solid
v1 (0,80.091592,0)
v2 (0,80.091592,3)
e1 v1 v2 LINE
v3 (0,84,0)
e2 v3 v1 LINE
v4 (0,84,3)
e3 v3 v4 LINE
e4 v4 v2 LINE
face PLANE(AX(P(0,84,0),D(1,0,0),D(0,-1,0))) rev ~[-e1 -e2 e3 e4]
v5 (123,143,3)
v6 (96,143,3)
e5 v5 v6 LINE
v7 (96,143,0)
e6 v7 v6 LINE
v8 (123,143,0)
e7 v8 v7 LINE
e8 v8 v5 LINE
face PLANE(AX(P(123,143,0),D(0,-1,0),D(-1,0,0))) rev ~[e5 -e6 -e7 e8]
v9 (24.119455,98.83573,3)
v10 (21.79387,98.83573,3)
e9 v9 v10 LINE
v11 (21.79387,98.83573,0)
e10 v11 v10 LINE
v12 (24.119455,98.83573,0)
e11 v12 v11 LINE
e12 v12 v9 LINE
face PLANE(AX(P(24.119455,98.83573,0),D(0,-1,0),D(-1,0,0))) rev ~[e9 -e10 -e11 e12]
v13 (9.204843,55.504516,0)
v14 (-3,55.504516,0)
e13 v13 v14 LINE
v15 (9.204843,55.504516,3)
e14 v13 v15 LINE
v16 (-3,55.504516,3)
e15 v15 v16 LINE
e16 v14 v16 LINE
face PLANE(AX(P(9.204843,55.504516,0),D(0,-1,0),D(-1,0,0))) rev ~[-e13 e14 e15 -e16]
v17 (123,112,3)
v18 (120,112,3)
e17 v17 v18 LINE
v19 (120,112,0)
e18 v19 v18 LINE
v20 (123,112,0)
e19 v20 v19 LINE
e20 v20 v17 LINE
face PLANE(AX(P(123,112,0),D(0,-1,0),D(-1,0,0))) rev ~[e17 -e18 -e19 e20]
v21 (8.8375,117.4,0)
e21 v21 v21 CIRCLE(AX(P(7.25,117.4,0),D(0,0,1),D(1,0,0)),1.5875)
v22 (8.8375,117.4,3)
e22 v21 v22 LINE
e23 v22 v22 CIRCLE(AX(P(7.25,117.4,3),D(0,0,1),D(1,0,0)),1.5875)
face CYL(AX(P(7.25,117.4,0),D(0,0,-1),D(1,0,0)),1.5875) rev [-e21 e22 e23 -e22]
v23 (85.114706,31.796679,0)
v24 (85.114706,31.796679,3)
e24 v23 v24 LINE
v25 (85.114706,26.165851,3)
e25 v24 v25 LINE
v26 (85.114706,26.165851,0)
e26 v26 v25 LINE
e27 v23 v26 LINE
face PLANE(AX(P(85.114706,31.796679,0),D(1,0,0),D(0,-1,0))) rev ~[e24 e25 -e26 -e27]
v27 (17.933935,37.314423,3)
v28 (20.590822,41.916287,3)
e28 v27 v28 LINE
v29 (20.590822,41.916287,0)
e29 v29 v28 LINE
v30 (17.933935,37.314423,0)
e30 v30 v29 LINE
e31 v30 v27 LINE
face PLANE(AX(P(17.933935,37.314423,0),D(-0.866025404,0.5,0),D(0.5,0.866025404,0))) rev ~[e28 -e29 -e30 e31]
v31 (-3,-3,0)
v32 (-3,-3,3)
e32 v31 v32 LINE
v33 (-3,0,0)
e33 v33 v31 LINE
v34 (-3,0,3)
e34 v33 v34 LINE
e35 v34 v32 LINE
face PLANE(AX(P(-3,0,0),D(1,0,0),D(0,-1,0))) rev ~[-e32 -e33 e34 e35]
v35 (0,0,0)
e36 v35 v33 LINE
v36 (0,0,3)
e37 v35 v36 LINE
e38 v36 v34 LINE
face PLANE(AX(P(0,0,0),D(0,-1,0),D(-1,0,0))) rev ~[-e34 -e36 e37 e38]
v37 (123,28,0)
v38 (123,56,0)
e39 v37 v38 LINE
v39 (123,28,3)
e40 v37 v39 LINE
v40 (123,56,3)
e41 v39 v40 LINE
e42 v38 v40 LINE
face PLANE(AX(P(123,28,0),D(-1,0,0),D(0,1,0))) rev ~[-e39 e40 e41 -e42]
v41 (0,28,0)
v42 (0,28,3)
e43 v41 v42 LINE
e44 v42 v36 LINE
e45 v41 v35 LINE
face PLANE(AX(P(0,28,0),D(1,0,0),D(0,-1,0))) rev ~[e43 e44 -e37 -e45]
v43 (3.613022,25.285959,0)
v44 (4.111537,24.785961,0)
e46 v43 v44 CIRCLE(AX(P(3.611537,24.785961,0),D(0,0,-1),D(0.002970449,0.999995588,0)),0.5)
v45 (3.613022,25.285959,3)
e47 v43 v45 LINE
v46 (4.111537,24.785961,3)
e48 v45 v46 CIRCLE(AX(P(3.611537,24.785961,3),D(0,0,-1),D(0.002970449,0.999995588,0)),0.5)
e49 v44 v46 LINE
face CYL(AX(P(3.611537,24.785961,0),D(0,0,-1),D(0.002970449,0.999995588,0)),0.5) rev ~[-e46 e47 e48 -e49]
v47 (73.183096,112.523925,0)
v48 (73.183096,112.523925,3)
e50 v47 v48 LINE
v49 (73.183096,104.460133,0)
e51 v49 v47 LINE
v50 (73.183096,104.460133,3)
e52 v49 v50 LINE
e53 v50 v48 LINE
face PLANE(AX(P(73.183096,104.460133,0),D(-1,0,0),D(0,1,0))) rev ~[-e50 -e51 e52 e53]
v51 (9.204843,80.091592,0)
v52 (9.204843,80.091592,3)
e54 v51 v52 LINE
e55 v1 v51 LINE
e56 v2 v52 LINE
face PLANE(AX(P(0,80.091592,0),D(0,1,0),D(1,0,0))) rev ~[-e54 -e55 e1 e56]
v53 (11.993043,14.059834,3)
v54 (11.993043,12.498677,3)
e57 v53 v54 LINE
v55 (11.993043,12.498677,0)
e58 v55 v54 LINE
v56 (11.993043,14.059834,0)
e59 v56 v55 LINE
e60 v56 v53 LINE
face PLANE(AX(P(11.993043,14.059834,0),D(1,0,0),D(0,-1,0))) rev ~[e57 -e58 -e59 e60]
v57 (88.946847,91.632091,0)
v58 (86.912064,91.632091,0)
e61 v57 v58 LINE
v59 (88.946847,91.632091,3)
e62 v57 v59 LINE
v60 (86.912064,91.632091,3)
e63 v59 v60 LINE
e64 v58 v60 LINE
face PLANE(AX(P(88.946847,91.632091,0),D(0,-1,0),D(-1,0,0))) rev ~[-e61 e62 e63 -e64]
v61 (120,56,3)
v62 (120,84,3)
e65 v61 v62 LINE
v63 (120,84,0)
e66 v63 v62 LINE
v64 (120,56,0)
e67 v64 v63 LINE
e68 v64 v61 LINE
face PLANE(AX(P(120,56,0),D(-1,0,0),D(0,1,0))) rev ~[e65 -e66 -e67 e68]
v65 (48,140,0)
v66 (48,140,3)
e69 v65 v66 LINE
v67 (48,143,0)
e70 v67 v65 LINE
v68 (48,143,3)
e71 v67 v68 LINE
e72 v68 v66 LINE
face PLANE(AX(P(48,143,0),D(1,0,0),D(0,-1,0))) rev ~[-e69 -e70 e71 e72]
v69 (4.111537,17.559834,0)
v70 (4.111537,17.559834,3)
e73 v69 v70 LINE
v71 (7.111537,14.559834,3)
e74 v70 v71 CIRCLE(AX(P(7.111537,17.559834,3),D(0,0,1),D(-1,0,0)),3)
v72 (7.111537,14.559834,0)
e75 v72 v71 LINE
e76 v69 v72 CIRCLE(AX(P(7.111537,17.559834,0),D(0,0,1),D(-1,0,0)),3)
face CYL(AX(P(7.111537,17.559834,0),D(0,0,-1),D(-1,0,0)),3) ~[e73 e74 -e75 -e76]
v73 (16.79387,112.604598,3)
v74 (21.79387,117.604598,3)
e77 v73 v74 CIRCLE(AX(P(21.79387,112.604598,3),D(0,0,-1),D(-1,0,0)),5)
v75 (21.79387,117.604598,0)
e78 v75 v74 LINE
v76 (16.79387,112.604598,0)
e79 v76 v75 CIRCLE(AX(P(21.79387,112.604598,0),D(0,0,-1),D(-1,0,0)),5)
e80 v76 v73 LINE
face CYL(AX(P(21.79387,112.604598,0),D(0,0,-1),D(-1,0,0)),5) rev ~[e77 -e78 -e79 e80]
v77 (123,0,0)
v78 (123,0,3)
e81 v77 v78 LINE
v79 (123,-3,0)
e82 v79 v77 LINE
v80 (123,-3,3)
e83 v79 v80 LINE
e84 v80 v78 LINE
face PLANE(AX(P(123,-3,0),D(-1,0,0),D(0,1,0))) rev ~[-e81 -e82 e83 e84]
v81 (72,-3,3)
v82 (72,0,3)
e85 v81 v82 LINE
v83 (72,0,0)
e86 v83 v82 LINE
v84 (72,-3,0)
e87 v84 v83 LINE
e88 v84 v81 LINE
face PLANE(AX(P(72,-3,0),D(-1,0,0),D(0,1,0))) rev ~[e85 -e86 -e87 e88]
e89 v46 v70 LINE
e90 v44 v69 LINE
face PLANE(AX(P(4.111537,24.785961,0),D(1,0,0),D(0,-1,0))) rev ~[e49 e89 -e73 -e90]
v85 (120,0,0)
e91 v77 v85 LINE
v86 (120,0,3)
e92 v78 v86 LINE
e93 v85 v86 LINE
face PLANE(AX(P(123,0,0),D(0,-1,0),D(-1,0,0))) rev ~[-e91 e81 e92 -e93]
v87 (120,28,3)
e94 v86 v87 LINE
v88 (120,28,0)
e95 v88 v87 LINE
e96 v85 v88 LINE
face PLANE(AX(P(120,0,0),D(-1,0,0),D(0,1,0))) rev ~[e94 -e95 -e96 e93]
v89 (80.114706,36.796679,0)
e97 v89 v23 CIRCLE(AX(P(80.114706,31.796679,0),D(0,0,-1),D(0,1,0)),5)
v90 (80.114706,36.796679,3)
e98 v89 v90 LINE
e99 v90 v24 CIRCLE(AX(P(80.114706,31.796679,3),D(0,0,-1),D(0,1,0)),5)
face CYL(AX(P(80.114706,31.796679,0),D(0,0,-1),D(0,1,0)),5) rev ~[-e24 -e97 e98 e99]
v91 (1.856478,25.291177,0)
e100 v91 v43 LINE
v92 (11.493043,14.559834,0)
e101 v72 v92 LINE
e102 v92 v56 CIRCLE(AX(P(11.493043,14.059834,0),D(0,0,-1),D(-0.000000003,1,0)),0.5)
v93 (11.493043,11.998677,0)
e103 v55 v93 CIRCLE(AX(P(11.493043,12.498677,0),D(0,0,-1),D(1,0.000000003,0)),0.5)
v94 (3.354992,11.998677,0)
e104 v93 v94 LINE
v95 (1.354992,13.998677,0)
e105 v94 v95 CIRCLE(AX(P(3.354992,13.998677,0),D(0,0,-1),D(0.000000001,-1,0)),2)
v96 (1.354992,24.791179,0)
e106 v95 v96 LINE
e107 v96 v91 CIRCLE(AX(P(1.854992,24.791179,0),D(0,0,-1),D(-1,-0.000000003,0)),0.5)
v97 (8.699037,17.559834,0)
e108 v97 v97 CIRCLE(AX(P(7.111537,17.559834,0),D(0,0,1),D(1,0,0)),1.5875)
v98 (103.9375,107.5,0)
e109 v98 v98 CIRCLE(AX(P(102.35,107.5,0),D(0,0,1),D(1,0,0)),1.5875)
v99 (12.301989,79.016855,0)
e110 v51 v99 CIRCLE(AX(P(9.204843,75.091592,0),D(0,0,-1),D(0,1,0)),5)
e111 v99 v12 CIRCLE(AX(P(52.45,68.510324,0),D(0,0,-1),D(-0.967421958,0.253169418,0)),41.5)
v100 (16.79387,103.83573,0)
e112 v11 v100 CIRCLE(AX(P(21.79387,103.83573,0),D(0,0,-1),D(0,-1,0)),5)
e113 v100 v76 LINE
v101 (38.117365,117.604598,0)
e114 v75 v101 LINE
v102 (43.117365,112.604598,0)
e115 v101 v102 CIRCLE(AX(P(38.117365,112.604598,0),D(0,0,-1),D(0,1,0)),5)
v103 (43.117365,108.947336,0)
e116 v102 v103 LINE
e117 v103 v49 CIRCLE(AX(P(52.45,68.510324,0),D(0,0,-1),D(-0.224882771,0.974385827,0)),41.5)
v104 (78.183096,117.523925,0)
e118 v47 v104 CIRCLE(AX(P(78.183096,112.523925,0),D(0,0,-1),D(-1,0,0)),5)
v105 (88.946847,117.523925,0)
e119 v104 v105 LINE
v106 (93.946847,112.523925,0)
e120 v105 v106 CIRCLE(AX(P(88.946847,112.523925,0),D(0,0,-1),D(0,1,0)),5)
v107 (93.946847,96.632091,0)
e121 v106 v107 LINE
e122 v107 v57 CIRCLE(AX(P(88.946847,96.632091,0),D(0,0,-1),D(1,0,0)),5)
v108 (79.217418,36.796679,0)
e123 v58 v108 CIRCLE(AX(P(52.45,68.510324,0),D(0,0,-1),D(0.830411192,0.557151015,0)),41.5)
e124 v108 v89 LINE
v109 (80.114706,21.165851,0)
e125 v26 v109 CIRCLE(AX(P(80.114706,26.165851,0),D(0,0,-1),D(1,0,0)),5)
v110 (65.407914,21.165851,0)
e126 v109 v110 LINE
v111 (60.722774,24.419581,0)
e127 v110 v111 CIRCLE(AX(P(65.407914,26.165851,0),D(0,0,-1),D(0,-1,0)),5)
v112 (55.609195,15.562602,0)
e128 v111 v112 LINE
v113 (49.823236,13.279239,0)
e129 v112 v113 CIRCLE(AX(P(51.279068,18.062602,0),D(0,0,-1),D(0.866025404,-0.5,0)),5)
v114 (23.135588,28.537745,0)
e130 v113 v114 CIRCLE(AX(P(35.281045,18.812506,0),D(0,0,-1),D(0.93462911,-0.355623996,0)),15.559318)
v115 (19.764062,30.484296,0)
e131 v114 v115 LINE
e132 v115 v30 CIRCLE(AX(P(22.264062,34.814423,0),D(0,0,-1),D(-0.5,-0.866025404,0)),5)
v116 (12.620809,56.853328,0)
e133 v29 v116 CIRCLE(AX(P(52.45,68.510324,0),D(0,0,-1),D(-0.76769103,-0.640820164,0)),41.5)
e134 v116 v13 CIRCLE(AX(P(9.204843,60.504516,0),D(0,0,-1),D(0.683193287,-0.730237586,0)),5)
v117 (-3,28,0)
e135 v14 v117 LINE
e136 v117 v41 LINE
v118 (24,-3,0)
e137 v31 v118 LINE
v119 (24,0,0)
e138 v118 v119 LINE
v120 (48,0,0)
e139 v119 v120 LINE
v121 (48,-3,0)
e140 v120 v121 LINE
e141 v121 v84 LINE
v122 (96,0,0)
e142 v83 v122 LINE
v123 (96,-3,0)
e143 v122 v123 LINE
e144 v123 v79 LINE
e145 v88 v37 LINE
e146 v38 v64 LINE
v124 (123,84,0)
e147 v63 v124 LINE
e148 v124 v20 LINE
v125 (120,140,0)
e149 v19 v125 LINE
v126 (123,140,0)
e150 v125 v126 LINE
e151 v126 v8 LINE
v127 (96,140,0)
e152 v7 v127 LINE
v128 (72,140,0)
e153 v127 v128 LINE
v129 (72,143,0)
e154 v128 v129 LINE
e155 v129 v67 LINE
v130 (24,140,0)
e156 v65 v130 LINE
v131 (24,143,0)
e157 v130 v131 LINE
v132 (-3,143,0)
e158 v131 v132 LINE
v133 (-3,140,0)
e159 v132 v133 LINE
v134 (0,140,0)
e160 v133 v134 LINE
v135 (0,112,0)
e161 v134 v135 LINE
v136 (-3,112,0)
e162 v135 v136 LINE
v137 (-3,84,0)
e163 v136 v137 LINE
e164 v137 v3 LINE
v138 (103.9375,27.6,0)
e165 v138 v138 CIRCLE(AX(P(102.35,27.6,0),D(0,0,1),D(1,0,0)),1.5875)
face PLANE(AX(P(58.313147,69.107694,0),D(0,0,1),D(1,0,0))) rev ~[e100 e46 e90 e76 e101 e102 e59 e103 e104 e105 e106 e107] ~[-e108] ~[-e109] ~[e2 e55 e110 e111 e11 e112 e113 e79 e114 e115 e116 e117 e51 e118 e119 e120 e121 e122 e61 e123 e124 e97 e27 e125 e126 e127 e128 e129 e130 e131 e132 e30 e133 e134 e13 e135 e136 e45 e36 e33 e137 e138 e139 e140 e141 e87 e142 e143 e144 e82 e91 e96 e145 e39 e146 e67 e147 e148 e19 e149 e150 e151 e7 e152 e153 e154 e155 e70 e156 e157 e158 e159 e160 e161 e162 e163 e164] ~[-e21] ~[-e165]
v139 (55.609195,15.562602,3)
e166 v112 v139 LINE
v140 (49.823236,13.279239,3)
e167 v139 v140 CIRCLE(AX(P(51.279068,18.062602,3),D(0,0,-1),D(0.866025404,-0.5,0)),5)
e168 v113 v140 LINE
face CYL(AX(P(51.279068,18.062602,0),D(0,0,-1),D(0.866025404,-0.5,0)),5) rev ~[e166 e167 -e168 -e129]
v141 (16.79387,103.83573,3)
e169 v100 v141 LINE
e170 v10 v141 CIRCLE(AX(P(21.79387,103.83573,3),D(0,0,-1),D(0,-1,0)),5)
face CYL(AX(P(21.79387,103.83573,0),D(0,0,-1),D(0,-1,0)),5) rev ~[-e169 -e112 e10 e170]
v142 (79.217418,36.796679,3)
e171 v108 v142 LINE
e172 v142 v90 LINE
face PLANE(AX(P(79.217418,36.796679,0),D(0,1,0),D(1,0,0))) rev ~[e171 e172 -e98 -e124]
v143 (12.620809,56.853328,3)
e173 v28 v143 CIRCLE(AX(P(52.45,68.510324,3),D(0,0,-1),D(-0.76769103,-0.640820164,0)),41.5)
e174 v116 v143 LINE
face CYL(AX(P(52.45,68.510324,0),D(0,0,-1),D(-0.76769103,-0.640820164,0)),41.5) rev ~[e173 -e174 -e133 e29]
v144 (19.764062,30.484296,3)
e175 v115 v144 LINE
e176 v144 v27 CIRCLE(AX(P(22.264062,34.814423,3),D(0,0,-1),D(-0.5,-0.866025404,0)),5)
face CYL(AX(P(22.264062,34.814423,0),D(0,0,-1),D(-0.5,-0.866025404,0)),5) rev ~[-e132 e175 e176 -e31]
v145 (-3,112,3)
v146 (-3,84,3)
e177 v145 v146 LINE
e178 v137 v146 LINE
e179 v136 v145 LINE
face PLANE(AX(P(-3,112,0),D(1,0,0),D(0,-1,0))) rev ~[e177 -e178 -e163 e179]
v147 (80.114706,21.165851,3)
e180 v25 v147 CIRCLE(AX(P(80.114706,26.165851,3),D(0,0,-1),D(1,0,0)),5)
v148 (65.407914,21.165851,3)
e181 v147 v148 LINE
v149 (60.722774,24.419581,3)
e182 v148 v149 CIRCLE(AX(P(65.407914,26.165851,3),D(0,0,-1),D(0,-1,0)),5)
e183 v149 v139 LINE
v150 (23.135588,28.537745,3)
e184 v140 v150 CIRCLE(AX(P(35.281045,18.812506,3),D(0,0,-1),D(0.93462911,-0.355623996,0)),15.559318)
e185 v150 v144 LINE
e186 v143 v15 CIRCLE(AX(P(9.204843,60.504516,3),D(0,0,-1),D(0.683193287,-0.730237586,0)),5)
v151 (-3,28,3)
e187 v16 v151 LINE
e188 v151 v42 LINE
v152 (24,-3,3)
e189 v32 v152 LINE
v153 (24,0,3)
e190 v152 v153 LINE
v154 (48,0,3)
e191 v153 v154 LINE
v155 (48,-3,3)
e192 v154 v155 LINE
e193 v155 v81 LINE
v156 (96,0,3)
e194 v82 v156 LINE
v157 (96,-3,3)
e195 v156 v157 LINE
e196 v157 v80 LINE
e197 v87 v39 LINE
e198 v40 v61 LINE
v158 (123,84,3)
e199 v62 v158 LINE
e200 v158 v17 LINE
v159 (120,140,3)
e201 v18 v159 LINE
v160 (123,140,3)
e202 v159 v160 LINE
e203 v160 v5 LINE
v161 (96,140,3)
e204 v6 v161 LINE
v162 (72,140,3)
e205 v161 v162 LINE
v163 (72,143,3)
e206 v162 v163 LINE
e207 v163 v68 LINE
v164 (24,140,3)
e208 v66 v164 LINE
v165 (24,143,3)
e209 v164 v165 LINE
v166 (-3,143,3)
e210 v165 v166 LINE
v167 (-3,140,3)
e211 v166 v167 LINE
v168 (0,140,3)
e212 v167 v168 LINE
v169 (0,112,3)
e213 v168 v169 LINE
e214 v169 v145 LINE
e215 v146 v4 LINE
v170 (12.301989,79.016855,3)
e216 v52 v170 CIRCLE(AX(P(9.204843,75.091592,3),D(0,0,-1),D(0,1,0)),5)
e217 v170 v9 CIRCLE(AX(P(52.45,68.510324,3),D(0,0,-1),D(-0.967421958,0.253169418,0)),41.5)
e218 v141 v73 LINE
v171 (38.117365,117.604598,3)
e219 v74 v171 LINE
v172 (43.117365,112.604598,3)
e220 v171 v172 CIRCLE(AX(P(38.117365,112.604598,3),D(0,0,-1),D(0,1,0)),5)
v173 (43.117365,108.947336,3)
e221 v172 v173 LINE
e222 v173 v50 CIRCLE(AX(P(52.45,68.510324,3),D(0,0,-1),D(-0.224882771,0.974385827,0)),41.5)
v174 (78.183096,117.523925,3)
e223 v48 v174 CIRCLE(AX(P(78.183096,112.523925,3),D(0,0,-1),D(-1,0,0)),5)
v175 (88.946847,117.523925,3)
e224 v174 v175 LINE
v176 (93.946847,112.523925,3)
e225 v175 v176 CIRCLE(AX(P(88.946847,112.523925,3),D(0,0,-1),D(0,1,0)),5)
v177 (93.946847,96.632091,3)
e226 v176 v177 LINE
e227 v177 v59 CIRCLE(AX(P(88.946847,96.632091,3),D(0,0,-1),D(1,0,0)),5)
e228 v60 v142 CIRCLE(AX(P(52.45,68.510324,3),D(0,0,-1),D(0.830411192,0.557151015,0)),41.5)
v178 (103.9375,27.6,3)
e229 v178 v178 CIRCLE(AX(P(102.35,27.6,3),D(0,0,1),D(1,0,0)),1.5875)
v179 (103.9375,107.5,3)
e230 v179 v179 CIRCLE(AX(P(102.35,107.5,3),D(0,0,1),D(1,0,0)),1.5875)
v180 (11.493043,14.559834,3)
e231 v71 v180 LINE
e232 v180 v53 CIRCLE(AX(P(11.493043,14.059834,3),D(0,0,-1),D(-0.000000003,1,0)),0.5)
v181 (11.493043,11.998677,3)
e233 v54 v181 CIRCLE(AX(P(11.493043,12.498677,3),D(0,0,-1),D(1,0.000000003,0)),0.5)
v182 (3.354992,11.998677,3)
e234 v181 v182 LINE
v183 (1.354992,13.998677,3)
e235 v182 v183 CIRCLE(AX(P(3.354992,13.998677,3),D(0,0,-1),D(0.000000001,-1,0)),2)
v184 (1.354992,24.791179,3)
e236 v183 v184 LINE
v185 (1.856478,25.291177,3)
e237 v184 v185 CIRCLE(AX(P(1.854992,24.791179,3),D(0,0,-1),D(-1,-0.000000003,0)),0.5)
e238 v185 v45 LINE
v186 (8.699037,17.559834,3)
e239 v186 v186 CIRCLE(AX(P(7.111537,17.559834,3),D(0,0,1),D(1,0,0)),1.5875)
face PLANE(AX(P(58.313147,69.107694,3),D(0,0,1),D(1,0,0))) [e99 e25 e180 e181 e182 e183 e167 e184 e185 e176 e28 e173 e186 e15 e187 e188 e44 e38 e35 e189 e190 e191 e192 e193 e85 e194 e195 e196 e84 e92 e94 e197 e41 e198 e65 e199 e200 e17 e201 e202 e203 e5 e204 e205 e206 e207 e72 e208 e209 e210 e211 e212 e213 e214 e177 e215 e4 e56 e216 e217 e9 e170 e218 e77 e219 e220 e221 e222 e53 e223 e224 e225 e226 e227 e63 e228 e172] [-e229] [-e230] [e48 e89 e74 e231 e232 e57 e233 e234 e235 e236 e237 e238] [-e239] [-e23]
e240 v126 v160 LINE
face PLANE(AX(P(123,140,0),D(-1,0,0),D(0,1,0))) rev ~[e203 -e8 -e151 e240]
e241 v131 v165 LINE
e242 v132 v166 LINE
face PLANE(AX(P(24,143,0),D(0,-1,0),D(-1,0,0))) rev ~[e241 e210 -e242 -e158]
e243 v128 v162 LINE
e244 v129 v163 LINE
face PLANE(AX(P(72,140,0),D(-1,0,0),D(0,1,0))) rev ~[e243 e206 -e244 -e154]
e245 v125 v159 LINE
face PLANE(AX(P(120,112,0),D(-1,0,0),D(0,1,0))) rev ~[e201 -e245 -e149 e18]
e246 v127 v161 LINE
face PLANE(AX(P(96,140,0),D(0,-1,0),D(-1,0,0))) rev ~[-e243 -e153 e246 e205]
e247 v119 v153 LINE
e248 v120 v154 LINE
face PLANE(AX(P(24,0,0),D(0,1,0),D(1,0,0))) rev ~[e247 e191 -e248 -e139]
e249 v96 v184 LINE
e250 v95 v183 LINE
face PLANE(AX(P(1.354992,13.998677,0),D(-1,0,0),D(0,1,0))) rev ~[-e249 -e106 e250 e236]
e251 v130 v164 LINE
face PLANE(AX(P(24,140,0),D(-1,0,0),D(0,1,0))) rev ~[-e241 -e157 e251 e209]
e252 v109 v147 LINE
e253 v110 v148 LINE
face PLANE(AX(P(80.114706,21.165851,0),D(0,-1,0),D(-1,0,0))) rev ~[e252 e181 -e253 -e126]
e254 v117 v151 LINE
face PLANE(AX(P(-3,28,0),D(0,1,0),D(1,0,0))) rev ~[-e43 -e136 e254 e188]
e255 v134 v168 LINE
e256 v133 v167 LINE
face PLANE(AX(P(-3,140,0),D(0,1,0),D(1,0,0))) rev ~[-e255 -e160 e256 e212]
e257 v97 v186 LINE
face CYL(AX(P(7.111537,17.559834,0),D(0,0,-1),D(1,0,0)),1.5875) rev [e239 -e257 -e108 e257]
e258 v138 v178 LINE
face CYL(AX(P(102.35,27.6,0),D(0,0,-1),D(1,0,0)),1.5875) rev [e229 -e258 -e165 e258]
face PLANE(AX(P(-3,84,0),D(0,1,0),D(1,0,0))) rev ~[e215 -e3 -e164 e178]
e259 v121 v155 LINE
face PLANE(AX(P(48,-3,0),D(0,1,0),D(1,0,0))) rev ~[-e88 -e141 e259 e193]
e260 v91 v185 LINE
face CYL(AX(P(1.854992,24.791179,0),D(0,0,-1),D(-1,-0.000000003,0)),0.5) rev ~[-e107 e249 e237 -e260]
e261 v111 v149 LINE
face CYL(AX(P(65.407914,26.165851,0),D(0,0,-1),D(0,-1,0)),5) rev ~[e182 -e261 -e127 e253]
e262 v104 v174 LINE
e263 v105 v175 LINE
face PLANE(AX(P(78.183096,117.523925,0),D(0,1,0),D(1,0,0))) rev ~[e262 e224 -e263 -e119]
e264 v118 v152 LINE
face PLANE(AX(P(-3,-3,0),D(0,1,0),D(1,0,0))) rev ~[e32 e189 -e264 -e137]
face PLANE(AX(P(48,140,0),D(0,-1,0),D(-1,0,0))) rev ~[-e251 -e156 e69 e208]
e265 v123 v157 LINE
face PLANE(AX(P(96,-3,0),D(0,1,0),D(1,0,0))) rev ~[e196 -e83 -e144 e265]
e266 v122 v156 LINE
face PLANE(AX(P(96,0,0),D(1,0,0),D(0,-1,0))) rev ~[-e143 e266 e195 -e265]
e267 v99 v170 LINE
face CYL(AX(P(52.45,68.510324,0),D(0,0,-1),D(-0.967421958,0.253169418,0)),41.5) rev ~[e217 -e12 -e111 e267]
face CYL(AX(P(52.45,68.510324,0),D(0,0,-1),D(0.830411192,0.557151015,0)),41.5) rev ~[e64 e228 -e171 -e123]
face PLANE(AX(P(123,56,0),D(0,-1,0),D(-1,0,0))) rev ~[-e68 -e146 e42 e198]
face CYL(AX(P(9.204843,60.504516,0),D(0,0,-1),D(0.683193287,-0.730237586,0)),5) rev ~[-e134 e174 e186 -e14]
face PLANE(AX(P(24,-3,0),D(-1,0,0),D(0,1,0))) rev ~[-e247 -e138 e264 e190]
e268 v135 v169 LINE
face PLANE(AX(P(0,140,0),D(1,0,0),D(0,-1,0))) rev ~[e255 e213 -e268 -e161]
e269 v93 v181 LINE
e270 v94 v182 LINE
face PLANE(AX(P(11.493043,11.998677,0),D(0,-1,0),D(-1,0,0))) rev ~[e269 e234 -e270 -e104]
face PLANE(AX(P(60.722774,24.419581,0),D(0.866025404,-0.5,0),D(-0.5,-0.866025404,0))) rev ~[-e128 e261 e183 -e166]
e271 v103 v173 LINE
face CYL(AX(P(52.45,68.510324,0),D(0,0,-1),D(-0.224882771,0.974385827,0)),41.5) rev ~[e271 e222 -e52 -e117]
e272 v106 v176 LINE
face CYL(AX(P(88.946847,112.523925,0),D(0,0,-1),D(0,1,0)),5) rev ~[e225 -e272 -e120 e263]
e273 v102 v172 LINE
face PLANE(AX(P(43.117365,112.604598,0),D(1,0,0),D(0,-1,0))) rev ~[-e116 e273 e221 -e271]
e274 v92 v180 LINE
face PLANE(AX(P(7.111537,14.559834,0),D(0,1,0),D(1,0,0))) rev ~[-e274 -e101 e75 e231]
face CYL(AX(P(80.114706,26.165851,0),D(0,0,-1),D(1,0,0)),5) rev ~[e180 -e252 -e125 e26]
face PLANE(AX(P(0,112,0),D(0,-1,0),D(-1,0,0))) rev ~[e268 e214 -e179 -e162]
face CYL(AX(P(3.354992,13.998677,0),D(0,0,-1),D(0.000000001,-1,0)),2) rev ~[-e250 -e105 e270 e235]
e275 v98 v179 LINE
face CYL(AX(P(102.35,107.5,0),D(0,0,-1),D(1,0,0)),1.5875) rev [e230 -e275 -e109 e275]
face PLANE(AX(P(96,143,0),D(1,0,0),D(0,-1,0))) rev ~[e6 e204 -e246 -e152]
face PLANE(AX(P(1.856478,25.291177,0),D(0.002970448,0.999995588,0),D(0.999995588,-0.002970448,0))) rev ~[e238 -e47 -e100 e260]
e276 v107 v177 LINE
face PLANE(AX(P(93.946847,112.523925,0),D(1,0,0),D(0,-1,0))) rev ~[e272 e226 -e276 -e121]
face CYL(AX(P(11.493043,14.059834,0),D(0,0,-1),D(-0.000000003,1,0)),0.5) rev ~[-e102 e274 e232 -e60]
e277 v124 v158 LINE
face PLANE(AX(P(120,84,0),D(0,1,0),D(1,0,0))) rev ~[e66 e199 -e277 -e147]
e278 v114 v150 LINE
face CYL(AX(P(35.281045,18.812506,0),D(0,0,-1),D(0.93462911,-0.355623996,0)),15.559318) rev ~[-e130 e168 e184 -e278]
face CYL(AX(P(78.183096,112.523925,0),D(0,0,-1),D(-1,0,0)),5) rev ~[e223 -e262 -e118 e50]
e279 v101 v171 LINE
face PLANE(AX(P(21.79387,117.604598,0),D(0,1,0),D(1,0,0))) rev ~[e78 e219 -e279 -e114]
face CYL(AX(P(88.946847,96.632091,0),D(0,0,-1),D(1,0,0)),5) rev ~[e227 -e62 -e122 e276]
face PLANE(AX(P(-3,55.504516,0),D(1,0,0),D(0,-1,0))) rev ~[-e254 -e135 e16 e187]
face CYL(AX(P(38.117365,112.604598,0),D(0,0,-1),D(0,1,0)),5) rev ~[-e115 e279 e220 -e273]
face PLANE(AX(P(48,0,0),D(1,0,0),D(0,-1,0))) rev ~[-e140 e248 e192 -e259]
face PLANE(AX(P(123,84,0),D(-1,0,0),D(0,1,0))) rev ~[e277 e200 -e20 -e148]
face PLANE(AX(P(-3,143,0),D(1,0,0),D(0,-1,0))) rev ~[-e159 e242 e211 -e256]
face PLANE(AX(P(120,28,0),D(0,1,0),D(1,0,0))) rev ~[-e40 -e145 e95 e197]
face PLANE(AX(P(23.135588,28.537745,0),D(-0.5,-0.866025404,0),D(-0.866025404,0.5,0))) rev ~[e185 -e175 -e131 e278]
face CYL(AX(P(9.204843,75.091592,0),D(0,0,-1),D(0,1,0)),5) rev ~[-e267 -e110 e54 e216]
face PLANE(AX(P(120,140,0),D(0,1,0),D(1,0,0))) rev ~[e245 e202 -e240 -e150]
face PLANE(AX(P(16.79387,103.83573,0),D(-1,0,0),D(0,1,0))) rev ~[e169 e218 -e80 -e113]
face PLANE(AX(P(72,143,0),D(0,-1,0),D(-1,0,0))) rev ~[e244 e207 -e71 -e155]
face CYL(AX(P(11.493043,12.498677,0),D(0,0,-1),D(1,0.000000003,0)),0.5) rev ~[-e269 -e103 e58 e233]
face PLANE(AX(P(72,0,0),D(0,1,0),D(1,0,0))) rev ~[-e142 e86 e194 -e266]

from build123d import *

# Parameters (mm, degrees)
SKETCH1_R           = 1.5875
BOSS_EXTRUDE1_DEPTH = 3


with BuildPart() as part:
    # Sketch1 → Boss-Extrude1 (new body)
    with BuildSketch(Plane.XY):
        with BuildLine():
            Line((48, 140), (24, 140))
            Line((24, 140), (24, 143))
            Line((24, 143), (-3, 143))
            Line((-3, 143), (-3, 140))
            Line((-3, 140), (0, 140))
            Line((0, 140), (0, 112))
            Line((0, 112), (-3, 112))
            Line((-3, 112), (-3, 84))
            Line((-3, 84), (0, 84))
            Line((0, 84), (0, 80.091592476))
            Line((0, 80.091592476), (9.204842615, 80.091592476))
            ThreePointArc((9.204842615, 80.091592476), (10.844002051, 79.815272857), (12.301988723, 79.016855013))
            ThreePointArc((12.301988723, 79.016855013), (16.805573917, 89.764144743), (24.1194552, 98.835729872))
            Line((24.1194552, 98.835729872), (21.793869689, 98.835729872))
            ThreePointArc((21.793869689, 98.835729872), (18.258335784, 100.300195966), (16.793869689, 103.835729872))
            Line((16.793869689, 103.835729872), (16.793869689, 112.604597993))
            ThreePointArc((16.793869689, 112.604597993), (18.258335784, 116.140131899), (21.793869689, 117.604597993))
            Line((21.793869689, 117.604597993), (38.117364989, 117.604597993))
            ThreePointArc((38.117364989, 117.604597993), (41.652898895, 116.140131899), (43.117364989, 112.604597993))
            Line((43.117364989, 112.604597993), (43.117364989, 108.94733597))
            ThreePointArc((43.117364989, 108.94733597), (58.575877607, 109.555709088), (73.183096051, 104.460132622))
            Line((73.183096051, 104.460132622), (73.183096051, 112.523924668))
            ThreePointArc((73.183096051, 112.523924668), (74.647562145, 116.059458574), (78.183096051, 117.523924668))
            Line((78.183096051, 117.523924668), (88.946846839, 117.523924668))
            ThreePointArc((88.946846839, 117.523924668), (92.482380745, 116.059458574), (93.946846839, 112.523924668))
            Line((93.946846839, 112.523924668), (93.946846839, 96.632091269))
            ThreePointArc((93.946846839, 96.632091269), (92.482380745, 93.096557363), (88.946846839, 91.632091269))
            Line((88.946846839, 91.632091269), (86.912064447, 91.632091269))
            ThreePointArc((86.912064447, 91.632091269), (93.547360155, 62.743436939), (79.217418381, 36.796678628))
            Line((79.217418381, 36.796678628), (80.114705661, 36.796678628))
            ThreePointArc((80.114705661, 36.796678628), (83.650239567, 35.332212534), (85.114705661, 31.796678628))
            Line((85.114705661, 31.796678628), (85.114705661, 26.165851447))
            ThreePointArc((85.114705661, 26.165851447), (83.650239567, 22.630317541), (80.114705661, 21.165851447))
            Line((80.114705661, 21.165851447), (65.40791431, 21.165851447))
            ThreePointArc((65.40791431, 21.165851447), (62.555840914, 22.059067139), (60.722774204, 24.419580508))
            Line((60.722774204, 24.419580508), (55.609195041, 15.562601589))
            ThreePointArc((55.609195041, 15.562601589), (53.114505039, 13.411669321), (49.823236264, 13.279239393))
            ThreePointArc((49.823236264, 13.279239393), (27.558248735, 5.305071401), (23.135588282, 28.537744501))
            Line((23.135588282, 28.537744501), (19.764061802, 30.484296222))
            ThreePointArc((19.764061802, 30.484296222), (17.434432671, 33.520328015), (17.933934783, 37.314423241))
            Line((17.933934783, 37.314423241), (20.590822265, 41.91628735))
            ThreePointArc((20.590822265, 41.91628735), (15.836008812, 48.974059185), (12.620809049, 56.853328488))
            ThreePointArc((12.620809049, 56.853328488), (11.041151458, 55.853928303), (9.204842615, 55.50451642))
            Line((9.204842615, 55.50451642), (-3, 55.50451642))
            Line((-3, 55.50451642), (-3, 28))
            Line((-3, 28), (0, 28))
            Line((0, 28), (0, 0))
            Line((0, 0), (-3, 0))
            Line((-3, 0), (-3, -3))
            Line((-3, -3), (24, -3))
            Line((24, -3), (24, 0))
            Line((24, 0), (48, 0))
            Line((48, 0), (48, -3))
            Line((48, -3), (72, -3))
            Line((72, -3), (72, 0))
            Line((72, 0), (96, 0))
            Line((96, 0), (96, -3))
            Line((96, -3), (123, -3))
            Line((123, -3), (123, 0))
            Line((123, 0), (120, 0))
            Line((120, 0), (120, 28))
            Line((120, 28), (123, 28))
            Line((123, 28), (123, 56))
            Line((123, 56), (120, 56))
            Line((120, 56), (120, 84))
            Line((120, 84), (123, 84))
            Line((123, 84), (123, 112))
            Line((123, 112), (120, 112))
            Line((120, 112), (120, 140))
            Line((120, 140), (123, 140))
            Line((123, 140), (123, 143))
            Line((123, 143), (96, 143))
            Line((96, 143), (96, 140))
            Line((96, 140), (72, 140))
            Line((72, 140), (72, 143))
            Line((72, 143), (48, 143))
            Line((48, 143), (48, 140))
        make_face()
        with Locations((7.111536912, 17.559834216)):
            Circle(SKETCH1_R, mode=Mode.SUBTRACT)
        with BuildLine():
            ThreePointArc((11.493043158, 14.559834216), (11.846596549, 14.413387607), (11.993043158, 14.059834216))
            Line((11.993043158, 14.059834216), (11.993043158, 12.498677253))
            ThreePointArc((11.993043158, 12.498677253), (11.846596549, 12.145123862), (11.493043158, 11.998677253))
            Line((11.493043158, 11.998677253), (3.35499228, 11.998677253))
            ThreePointArc((3.35499228, 11.998677253), (1.940778717, 12.58446369), (1.35499228, 13.998677253))
            Line((1.35499228, 13.998677253), (1.35499228, 24.79117874))
            ThreePointArc((1.35499228, 24.79117874), (1.501964385, 25.145256847), (1.856477503, 25.291176534))
            Line((1.856477503, 25.291176534), (3.613022136, 25.285958787))
            ThreePointArc((3.613022136, 25.285958787), (3.965615019, 25.138988887), (4.111536912, 24.785960993))
            Line((4.111536912, 24.785960993), (4.111536912, 17.559834216))
            ThreePointArc((4.111536912, 17.559834216), (4.990216569, 15.438513872), (7.111536912, 14.559834216))
            Line((7.111536912, 14.559834216), (11.493043158, 14.559834216))
        make_face(mode=Mode.SUBTRACT)
        with Locations((102.35, 27.6)):
            Circle(SKETCH1_R, mode=Mode.SUBTRACT)
        with Locations((7.25, 117.4)):
            Circle(SKETCH1_R, mode=Mode.SUBTRACT)
        with Locations((102.35, 107.5)):
            Circle(SKETCH1_R, mode=Mode.SUBTRACT)
    extrude(amount=BOSS_EXTRUDE1_DEPTH)


solid = part.part
